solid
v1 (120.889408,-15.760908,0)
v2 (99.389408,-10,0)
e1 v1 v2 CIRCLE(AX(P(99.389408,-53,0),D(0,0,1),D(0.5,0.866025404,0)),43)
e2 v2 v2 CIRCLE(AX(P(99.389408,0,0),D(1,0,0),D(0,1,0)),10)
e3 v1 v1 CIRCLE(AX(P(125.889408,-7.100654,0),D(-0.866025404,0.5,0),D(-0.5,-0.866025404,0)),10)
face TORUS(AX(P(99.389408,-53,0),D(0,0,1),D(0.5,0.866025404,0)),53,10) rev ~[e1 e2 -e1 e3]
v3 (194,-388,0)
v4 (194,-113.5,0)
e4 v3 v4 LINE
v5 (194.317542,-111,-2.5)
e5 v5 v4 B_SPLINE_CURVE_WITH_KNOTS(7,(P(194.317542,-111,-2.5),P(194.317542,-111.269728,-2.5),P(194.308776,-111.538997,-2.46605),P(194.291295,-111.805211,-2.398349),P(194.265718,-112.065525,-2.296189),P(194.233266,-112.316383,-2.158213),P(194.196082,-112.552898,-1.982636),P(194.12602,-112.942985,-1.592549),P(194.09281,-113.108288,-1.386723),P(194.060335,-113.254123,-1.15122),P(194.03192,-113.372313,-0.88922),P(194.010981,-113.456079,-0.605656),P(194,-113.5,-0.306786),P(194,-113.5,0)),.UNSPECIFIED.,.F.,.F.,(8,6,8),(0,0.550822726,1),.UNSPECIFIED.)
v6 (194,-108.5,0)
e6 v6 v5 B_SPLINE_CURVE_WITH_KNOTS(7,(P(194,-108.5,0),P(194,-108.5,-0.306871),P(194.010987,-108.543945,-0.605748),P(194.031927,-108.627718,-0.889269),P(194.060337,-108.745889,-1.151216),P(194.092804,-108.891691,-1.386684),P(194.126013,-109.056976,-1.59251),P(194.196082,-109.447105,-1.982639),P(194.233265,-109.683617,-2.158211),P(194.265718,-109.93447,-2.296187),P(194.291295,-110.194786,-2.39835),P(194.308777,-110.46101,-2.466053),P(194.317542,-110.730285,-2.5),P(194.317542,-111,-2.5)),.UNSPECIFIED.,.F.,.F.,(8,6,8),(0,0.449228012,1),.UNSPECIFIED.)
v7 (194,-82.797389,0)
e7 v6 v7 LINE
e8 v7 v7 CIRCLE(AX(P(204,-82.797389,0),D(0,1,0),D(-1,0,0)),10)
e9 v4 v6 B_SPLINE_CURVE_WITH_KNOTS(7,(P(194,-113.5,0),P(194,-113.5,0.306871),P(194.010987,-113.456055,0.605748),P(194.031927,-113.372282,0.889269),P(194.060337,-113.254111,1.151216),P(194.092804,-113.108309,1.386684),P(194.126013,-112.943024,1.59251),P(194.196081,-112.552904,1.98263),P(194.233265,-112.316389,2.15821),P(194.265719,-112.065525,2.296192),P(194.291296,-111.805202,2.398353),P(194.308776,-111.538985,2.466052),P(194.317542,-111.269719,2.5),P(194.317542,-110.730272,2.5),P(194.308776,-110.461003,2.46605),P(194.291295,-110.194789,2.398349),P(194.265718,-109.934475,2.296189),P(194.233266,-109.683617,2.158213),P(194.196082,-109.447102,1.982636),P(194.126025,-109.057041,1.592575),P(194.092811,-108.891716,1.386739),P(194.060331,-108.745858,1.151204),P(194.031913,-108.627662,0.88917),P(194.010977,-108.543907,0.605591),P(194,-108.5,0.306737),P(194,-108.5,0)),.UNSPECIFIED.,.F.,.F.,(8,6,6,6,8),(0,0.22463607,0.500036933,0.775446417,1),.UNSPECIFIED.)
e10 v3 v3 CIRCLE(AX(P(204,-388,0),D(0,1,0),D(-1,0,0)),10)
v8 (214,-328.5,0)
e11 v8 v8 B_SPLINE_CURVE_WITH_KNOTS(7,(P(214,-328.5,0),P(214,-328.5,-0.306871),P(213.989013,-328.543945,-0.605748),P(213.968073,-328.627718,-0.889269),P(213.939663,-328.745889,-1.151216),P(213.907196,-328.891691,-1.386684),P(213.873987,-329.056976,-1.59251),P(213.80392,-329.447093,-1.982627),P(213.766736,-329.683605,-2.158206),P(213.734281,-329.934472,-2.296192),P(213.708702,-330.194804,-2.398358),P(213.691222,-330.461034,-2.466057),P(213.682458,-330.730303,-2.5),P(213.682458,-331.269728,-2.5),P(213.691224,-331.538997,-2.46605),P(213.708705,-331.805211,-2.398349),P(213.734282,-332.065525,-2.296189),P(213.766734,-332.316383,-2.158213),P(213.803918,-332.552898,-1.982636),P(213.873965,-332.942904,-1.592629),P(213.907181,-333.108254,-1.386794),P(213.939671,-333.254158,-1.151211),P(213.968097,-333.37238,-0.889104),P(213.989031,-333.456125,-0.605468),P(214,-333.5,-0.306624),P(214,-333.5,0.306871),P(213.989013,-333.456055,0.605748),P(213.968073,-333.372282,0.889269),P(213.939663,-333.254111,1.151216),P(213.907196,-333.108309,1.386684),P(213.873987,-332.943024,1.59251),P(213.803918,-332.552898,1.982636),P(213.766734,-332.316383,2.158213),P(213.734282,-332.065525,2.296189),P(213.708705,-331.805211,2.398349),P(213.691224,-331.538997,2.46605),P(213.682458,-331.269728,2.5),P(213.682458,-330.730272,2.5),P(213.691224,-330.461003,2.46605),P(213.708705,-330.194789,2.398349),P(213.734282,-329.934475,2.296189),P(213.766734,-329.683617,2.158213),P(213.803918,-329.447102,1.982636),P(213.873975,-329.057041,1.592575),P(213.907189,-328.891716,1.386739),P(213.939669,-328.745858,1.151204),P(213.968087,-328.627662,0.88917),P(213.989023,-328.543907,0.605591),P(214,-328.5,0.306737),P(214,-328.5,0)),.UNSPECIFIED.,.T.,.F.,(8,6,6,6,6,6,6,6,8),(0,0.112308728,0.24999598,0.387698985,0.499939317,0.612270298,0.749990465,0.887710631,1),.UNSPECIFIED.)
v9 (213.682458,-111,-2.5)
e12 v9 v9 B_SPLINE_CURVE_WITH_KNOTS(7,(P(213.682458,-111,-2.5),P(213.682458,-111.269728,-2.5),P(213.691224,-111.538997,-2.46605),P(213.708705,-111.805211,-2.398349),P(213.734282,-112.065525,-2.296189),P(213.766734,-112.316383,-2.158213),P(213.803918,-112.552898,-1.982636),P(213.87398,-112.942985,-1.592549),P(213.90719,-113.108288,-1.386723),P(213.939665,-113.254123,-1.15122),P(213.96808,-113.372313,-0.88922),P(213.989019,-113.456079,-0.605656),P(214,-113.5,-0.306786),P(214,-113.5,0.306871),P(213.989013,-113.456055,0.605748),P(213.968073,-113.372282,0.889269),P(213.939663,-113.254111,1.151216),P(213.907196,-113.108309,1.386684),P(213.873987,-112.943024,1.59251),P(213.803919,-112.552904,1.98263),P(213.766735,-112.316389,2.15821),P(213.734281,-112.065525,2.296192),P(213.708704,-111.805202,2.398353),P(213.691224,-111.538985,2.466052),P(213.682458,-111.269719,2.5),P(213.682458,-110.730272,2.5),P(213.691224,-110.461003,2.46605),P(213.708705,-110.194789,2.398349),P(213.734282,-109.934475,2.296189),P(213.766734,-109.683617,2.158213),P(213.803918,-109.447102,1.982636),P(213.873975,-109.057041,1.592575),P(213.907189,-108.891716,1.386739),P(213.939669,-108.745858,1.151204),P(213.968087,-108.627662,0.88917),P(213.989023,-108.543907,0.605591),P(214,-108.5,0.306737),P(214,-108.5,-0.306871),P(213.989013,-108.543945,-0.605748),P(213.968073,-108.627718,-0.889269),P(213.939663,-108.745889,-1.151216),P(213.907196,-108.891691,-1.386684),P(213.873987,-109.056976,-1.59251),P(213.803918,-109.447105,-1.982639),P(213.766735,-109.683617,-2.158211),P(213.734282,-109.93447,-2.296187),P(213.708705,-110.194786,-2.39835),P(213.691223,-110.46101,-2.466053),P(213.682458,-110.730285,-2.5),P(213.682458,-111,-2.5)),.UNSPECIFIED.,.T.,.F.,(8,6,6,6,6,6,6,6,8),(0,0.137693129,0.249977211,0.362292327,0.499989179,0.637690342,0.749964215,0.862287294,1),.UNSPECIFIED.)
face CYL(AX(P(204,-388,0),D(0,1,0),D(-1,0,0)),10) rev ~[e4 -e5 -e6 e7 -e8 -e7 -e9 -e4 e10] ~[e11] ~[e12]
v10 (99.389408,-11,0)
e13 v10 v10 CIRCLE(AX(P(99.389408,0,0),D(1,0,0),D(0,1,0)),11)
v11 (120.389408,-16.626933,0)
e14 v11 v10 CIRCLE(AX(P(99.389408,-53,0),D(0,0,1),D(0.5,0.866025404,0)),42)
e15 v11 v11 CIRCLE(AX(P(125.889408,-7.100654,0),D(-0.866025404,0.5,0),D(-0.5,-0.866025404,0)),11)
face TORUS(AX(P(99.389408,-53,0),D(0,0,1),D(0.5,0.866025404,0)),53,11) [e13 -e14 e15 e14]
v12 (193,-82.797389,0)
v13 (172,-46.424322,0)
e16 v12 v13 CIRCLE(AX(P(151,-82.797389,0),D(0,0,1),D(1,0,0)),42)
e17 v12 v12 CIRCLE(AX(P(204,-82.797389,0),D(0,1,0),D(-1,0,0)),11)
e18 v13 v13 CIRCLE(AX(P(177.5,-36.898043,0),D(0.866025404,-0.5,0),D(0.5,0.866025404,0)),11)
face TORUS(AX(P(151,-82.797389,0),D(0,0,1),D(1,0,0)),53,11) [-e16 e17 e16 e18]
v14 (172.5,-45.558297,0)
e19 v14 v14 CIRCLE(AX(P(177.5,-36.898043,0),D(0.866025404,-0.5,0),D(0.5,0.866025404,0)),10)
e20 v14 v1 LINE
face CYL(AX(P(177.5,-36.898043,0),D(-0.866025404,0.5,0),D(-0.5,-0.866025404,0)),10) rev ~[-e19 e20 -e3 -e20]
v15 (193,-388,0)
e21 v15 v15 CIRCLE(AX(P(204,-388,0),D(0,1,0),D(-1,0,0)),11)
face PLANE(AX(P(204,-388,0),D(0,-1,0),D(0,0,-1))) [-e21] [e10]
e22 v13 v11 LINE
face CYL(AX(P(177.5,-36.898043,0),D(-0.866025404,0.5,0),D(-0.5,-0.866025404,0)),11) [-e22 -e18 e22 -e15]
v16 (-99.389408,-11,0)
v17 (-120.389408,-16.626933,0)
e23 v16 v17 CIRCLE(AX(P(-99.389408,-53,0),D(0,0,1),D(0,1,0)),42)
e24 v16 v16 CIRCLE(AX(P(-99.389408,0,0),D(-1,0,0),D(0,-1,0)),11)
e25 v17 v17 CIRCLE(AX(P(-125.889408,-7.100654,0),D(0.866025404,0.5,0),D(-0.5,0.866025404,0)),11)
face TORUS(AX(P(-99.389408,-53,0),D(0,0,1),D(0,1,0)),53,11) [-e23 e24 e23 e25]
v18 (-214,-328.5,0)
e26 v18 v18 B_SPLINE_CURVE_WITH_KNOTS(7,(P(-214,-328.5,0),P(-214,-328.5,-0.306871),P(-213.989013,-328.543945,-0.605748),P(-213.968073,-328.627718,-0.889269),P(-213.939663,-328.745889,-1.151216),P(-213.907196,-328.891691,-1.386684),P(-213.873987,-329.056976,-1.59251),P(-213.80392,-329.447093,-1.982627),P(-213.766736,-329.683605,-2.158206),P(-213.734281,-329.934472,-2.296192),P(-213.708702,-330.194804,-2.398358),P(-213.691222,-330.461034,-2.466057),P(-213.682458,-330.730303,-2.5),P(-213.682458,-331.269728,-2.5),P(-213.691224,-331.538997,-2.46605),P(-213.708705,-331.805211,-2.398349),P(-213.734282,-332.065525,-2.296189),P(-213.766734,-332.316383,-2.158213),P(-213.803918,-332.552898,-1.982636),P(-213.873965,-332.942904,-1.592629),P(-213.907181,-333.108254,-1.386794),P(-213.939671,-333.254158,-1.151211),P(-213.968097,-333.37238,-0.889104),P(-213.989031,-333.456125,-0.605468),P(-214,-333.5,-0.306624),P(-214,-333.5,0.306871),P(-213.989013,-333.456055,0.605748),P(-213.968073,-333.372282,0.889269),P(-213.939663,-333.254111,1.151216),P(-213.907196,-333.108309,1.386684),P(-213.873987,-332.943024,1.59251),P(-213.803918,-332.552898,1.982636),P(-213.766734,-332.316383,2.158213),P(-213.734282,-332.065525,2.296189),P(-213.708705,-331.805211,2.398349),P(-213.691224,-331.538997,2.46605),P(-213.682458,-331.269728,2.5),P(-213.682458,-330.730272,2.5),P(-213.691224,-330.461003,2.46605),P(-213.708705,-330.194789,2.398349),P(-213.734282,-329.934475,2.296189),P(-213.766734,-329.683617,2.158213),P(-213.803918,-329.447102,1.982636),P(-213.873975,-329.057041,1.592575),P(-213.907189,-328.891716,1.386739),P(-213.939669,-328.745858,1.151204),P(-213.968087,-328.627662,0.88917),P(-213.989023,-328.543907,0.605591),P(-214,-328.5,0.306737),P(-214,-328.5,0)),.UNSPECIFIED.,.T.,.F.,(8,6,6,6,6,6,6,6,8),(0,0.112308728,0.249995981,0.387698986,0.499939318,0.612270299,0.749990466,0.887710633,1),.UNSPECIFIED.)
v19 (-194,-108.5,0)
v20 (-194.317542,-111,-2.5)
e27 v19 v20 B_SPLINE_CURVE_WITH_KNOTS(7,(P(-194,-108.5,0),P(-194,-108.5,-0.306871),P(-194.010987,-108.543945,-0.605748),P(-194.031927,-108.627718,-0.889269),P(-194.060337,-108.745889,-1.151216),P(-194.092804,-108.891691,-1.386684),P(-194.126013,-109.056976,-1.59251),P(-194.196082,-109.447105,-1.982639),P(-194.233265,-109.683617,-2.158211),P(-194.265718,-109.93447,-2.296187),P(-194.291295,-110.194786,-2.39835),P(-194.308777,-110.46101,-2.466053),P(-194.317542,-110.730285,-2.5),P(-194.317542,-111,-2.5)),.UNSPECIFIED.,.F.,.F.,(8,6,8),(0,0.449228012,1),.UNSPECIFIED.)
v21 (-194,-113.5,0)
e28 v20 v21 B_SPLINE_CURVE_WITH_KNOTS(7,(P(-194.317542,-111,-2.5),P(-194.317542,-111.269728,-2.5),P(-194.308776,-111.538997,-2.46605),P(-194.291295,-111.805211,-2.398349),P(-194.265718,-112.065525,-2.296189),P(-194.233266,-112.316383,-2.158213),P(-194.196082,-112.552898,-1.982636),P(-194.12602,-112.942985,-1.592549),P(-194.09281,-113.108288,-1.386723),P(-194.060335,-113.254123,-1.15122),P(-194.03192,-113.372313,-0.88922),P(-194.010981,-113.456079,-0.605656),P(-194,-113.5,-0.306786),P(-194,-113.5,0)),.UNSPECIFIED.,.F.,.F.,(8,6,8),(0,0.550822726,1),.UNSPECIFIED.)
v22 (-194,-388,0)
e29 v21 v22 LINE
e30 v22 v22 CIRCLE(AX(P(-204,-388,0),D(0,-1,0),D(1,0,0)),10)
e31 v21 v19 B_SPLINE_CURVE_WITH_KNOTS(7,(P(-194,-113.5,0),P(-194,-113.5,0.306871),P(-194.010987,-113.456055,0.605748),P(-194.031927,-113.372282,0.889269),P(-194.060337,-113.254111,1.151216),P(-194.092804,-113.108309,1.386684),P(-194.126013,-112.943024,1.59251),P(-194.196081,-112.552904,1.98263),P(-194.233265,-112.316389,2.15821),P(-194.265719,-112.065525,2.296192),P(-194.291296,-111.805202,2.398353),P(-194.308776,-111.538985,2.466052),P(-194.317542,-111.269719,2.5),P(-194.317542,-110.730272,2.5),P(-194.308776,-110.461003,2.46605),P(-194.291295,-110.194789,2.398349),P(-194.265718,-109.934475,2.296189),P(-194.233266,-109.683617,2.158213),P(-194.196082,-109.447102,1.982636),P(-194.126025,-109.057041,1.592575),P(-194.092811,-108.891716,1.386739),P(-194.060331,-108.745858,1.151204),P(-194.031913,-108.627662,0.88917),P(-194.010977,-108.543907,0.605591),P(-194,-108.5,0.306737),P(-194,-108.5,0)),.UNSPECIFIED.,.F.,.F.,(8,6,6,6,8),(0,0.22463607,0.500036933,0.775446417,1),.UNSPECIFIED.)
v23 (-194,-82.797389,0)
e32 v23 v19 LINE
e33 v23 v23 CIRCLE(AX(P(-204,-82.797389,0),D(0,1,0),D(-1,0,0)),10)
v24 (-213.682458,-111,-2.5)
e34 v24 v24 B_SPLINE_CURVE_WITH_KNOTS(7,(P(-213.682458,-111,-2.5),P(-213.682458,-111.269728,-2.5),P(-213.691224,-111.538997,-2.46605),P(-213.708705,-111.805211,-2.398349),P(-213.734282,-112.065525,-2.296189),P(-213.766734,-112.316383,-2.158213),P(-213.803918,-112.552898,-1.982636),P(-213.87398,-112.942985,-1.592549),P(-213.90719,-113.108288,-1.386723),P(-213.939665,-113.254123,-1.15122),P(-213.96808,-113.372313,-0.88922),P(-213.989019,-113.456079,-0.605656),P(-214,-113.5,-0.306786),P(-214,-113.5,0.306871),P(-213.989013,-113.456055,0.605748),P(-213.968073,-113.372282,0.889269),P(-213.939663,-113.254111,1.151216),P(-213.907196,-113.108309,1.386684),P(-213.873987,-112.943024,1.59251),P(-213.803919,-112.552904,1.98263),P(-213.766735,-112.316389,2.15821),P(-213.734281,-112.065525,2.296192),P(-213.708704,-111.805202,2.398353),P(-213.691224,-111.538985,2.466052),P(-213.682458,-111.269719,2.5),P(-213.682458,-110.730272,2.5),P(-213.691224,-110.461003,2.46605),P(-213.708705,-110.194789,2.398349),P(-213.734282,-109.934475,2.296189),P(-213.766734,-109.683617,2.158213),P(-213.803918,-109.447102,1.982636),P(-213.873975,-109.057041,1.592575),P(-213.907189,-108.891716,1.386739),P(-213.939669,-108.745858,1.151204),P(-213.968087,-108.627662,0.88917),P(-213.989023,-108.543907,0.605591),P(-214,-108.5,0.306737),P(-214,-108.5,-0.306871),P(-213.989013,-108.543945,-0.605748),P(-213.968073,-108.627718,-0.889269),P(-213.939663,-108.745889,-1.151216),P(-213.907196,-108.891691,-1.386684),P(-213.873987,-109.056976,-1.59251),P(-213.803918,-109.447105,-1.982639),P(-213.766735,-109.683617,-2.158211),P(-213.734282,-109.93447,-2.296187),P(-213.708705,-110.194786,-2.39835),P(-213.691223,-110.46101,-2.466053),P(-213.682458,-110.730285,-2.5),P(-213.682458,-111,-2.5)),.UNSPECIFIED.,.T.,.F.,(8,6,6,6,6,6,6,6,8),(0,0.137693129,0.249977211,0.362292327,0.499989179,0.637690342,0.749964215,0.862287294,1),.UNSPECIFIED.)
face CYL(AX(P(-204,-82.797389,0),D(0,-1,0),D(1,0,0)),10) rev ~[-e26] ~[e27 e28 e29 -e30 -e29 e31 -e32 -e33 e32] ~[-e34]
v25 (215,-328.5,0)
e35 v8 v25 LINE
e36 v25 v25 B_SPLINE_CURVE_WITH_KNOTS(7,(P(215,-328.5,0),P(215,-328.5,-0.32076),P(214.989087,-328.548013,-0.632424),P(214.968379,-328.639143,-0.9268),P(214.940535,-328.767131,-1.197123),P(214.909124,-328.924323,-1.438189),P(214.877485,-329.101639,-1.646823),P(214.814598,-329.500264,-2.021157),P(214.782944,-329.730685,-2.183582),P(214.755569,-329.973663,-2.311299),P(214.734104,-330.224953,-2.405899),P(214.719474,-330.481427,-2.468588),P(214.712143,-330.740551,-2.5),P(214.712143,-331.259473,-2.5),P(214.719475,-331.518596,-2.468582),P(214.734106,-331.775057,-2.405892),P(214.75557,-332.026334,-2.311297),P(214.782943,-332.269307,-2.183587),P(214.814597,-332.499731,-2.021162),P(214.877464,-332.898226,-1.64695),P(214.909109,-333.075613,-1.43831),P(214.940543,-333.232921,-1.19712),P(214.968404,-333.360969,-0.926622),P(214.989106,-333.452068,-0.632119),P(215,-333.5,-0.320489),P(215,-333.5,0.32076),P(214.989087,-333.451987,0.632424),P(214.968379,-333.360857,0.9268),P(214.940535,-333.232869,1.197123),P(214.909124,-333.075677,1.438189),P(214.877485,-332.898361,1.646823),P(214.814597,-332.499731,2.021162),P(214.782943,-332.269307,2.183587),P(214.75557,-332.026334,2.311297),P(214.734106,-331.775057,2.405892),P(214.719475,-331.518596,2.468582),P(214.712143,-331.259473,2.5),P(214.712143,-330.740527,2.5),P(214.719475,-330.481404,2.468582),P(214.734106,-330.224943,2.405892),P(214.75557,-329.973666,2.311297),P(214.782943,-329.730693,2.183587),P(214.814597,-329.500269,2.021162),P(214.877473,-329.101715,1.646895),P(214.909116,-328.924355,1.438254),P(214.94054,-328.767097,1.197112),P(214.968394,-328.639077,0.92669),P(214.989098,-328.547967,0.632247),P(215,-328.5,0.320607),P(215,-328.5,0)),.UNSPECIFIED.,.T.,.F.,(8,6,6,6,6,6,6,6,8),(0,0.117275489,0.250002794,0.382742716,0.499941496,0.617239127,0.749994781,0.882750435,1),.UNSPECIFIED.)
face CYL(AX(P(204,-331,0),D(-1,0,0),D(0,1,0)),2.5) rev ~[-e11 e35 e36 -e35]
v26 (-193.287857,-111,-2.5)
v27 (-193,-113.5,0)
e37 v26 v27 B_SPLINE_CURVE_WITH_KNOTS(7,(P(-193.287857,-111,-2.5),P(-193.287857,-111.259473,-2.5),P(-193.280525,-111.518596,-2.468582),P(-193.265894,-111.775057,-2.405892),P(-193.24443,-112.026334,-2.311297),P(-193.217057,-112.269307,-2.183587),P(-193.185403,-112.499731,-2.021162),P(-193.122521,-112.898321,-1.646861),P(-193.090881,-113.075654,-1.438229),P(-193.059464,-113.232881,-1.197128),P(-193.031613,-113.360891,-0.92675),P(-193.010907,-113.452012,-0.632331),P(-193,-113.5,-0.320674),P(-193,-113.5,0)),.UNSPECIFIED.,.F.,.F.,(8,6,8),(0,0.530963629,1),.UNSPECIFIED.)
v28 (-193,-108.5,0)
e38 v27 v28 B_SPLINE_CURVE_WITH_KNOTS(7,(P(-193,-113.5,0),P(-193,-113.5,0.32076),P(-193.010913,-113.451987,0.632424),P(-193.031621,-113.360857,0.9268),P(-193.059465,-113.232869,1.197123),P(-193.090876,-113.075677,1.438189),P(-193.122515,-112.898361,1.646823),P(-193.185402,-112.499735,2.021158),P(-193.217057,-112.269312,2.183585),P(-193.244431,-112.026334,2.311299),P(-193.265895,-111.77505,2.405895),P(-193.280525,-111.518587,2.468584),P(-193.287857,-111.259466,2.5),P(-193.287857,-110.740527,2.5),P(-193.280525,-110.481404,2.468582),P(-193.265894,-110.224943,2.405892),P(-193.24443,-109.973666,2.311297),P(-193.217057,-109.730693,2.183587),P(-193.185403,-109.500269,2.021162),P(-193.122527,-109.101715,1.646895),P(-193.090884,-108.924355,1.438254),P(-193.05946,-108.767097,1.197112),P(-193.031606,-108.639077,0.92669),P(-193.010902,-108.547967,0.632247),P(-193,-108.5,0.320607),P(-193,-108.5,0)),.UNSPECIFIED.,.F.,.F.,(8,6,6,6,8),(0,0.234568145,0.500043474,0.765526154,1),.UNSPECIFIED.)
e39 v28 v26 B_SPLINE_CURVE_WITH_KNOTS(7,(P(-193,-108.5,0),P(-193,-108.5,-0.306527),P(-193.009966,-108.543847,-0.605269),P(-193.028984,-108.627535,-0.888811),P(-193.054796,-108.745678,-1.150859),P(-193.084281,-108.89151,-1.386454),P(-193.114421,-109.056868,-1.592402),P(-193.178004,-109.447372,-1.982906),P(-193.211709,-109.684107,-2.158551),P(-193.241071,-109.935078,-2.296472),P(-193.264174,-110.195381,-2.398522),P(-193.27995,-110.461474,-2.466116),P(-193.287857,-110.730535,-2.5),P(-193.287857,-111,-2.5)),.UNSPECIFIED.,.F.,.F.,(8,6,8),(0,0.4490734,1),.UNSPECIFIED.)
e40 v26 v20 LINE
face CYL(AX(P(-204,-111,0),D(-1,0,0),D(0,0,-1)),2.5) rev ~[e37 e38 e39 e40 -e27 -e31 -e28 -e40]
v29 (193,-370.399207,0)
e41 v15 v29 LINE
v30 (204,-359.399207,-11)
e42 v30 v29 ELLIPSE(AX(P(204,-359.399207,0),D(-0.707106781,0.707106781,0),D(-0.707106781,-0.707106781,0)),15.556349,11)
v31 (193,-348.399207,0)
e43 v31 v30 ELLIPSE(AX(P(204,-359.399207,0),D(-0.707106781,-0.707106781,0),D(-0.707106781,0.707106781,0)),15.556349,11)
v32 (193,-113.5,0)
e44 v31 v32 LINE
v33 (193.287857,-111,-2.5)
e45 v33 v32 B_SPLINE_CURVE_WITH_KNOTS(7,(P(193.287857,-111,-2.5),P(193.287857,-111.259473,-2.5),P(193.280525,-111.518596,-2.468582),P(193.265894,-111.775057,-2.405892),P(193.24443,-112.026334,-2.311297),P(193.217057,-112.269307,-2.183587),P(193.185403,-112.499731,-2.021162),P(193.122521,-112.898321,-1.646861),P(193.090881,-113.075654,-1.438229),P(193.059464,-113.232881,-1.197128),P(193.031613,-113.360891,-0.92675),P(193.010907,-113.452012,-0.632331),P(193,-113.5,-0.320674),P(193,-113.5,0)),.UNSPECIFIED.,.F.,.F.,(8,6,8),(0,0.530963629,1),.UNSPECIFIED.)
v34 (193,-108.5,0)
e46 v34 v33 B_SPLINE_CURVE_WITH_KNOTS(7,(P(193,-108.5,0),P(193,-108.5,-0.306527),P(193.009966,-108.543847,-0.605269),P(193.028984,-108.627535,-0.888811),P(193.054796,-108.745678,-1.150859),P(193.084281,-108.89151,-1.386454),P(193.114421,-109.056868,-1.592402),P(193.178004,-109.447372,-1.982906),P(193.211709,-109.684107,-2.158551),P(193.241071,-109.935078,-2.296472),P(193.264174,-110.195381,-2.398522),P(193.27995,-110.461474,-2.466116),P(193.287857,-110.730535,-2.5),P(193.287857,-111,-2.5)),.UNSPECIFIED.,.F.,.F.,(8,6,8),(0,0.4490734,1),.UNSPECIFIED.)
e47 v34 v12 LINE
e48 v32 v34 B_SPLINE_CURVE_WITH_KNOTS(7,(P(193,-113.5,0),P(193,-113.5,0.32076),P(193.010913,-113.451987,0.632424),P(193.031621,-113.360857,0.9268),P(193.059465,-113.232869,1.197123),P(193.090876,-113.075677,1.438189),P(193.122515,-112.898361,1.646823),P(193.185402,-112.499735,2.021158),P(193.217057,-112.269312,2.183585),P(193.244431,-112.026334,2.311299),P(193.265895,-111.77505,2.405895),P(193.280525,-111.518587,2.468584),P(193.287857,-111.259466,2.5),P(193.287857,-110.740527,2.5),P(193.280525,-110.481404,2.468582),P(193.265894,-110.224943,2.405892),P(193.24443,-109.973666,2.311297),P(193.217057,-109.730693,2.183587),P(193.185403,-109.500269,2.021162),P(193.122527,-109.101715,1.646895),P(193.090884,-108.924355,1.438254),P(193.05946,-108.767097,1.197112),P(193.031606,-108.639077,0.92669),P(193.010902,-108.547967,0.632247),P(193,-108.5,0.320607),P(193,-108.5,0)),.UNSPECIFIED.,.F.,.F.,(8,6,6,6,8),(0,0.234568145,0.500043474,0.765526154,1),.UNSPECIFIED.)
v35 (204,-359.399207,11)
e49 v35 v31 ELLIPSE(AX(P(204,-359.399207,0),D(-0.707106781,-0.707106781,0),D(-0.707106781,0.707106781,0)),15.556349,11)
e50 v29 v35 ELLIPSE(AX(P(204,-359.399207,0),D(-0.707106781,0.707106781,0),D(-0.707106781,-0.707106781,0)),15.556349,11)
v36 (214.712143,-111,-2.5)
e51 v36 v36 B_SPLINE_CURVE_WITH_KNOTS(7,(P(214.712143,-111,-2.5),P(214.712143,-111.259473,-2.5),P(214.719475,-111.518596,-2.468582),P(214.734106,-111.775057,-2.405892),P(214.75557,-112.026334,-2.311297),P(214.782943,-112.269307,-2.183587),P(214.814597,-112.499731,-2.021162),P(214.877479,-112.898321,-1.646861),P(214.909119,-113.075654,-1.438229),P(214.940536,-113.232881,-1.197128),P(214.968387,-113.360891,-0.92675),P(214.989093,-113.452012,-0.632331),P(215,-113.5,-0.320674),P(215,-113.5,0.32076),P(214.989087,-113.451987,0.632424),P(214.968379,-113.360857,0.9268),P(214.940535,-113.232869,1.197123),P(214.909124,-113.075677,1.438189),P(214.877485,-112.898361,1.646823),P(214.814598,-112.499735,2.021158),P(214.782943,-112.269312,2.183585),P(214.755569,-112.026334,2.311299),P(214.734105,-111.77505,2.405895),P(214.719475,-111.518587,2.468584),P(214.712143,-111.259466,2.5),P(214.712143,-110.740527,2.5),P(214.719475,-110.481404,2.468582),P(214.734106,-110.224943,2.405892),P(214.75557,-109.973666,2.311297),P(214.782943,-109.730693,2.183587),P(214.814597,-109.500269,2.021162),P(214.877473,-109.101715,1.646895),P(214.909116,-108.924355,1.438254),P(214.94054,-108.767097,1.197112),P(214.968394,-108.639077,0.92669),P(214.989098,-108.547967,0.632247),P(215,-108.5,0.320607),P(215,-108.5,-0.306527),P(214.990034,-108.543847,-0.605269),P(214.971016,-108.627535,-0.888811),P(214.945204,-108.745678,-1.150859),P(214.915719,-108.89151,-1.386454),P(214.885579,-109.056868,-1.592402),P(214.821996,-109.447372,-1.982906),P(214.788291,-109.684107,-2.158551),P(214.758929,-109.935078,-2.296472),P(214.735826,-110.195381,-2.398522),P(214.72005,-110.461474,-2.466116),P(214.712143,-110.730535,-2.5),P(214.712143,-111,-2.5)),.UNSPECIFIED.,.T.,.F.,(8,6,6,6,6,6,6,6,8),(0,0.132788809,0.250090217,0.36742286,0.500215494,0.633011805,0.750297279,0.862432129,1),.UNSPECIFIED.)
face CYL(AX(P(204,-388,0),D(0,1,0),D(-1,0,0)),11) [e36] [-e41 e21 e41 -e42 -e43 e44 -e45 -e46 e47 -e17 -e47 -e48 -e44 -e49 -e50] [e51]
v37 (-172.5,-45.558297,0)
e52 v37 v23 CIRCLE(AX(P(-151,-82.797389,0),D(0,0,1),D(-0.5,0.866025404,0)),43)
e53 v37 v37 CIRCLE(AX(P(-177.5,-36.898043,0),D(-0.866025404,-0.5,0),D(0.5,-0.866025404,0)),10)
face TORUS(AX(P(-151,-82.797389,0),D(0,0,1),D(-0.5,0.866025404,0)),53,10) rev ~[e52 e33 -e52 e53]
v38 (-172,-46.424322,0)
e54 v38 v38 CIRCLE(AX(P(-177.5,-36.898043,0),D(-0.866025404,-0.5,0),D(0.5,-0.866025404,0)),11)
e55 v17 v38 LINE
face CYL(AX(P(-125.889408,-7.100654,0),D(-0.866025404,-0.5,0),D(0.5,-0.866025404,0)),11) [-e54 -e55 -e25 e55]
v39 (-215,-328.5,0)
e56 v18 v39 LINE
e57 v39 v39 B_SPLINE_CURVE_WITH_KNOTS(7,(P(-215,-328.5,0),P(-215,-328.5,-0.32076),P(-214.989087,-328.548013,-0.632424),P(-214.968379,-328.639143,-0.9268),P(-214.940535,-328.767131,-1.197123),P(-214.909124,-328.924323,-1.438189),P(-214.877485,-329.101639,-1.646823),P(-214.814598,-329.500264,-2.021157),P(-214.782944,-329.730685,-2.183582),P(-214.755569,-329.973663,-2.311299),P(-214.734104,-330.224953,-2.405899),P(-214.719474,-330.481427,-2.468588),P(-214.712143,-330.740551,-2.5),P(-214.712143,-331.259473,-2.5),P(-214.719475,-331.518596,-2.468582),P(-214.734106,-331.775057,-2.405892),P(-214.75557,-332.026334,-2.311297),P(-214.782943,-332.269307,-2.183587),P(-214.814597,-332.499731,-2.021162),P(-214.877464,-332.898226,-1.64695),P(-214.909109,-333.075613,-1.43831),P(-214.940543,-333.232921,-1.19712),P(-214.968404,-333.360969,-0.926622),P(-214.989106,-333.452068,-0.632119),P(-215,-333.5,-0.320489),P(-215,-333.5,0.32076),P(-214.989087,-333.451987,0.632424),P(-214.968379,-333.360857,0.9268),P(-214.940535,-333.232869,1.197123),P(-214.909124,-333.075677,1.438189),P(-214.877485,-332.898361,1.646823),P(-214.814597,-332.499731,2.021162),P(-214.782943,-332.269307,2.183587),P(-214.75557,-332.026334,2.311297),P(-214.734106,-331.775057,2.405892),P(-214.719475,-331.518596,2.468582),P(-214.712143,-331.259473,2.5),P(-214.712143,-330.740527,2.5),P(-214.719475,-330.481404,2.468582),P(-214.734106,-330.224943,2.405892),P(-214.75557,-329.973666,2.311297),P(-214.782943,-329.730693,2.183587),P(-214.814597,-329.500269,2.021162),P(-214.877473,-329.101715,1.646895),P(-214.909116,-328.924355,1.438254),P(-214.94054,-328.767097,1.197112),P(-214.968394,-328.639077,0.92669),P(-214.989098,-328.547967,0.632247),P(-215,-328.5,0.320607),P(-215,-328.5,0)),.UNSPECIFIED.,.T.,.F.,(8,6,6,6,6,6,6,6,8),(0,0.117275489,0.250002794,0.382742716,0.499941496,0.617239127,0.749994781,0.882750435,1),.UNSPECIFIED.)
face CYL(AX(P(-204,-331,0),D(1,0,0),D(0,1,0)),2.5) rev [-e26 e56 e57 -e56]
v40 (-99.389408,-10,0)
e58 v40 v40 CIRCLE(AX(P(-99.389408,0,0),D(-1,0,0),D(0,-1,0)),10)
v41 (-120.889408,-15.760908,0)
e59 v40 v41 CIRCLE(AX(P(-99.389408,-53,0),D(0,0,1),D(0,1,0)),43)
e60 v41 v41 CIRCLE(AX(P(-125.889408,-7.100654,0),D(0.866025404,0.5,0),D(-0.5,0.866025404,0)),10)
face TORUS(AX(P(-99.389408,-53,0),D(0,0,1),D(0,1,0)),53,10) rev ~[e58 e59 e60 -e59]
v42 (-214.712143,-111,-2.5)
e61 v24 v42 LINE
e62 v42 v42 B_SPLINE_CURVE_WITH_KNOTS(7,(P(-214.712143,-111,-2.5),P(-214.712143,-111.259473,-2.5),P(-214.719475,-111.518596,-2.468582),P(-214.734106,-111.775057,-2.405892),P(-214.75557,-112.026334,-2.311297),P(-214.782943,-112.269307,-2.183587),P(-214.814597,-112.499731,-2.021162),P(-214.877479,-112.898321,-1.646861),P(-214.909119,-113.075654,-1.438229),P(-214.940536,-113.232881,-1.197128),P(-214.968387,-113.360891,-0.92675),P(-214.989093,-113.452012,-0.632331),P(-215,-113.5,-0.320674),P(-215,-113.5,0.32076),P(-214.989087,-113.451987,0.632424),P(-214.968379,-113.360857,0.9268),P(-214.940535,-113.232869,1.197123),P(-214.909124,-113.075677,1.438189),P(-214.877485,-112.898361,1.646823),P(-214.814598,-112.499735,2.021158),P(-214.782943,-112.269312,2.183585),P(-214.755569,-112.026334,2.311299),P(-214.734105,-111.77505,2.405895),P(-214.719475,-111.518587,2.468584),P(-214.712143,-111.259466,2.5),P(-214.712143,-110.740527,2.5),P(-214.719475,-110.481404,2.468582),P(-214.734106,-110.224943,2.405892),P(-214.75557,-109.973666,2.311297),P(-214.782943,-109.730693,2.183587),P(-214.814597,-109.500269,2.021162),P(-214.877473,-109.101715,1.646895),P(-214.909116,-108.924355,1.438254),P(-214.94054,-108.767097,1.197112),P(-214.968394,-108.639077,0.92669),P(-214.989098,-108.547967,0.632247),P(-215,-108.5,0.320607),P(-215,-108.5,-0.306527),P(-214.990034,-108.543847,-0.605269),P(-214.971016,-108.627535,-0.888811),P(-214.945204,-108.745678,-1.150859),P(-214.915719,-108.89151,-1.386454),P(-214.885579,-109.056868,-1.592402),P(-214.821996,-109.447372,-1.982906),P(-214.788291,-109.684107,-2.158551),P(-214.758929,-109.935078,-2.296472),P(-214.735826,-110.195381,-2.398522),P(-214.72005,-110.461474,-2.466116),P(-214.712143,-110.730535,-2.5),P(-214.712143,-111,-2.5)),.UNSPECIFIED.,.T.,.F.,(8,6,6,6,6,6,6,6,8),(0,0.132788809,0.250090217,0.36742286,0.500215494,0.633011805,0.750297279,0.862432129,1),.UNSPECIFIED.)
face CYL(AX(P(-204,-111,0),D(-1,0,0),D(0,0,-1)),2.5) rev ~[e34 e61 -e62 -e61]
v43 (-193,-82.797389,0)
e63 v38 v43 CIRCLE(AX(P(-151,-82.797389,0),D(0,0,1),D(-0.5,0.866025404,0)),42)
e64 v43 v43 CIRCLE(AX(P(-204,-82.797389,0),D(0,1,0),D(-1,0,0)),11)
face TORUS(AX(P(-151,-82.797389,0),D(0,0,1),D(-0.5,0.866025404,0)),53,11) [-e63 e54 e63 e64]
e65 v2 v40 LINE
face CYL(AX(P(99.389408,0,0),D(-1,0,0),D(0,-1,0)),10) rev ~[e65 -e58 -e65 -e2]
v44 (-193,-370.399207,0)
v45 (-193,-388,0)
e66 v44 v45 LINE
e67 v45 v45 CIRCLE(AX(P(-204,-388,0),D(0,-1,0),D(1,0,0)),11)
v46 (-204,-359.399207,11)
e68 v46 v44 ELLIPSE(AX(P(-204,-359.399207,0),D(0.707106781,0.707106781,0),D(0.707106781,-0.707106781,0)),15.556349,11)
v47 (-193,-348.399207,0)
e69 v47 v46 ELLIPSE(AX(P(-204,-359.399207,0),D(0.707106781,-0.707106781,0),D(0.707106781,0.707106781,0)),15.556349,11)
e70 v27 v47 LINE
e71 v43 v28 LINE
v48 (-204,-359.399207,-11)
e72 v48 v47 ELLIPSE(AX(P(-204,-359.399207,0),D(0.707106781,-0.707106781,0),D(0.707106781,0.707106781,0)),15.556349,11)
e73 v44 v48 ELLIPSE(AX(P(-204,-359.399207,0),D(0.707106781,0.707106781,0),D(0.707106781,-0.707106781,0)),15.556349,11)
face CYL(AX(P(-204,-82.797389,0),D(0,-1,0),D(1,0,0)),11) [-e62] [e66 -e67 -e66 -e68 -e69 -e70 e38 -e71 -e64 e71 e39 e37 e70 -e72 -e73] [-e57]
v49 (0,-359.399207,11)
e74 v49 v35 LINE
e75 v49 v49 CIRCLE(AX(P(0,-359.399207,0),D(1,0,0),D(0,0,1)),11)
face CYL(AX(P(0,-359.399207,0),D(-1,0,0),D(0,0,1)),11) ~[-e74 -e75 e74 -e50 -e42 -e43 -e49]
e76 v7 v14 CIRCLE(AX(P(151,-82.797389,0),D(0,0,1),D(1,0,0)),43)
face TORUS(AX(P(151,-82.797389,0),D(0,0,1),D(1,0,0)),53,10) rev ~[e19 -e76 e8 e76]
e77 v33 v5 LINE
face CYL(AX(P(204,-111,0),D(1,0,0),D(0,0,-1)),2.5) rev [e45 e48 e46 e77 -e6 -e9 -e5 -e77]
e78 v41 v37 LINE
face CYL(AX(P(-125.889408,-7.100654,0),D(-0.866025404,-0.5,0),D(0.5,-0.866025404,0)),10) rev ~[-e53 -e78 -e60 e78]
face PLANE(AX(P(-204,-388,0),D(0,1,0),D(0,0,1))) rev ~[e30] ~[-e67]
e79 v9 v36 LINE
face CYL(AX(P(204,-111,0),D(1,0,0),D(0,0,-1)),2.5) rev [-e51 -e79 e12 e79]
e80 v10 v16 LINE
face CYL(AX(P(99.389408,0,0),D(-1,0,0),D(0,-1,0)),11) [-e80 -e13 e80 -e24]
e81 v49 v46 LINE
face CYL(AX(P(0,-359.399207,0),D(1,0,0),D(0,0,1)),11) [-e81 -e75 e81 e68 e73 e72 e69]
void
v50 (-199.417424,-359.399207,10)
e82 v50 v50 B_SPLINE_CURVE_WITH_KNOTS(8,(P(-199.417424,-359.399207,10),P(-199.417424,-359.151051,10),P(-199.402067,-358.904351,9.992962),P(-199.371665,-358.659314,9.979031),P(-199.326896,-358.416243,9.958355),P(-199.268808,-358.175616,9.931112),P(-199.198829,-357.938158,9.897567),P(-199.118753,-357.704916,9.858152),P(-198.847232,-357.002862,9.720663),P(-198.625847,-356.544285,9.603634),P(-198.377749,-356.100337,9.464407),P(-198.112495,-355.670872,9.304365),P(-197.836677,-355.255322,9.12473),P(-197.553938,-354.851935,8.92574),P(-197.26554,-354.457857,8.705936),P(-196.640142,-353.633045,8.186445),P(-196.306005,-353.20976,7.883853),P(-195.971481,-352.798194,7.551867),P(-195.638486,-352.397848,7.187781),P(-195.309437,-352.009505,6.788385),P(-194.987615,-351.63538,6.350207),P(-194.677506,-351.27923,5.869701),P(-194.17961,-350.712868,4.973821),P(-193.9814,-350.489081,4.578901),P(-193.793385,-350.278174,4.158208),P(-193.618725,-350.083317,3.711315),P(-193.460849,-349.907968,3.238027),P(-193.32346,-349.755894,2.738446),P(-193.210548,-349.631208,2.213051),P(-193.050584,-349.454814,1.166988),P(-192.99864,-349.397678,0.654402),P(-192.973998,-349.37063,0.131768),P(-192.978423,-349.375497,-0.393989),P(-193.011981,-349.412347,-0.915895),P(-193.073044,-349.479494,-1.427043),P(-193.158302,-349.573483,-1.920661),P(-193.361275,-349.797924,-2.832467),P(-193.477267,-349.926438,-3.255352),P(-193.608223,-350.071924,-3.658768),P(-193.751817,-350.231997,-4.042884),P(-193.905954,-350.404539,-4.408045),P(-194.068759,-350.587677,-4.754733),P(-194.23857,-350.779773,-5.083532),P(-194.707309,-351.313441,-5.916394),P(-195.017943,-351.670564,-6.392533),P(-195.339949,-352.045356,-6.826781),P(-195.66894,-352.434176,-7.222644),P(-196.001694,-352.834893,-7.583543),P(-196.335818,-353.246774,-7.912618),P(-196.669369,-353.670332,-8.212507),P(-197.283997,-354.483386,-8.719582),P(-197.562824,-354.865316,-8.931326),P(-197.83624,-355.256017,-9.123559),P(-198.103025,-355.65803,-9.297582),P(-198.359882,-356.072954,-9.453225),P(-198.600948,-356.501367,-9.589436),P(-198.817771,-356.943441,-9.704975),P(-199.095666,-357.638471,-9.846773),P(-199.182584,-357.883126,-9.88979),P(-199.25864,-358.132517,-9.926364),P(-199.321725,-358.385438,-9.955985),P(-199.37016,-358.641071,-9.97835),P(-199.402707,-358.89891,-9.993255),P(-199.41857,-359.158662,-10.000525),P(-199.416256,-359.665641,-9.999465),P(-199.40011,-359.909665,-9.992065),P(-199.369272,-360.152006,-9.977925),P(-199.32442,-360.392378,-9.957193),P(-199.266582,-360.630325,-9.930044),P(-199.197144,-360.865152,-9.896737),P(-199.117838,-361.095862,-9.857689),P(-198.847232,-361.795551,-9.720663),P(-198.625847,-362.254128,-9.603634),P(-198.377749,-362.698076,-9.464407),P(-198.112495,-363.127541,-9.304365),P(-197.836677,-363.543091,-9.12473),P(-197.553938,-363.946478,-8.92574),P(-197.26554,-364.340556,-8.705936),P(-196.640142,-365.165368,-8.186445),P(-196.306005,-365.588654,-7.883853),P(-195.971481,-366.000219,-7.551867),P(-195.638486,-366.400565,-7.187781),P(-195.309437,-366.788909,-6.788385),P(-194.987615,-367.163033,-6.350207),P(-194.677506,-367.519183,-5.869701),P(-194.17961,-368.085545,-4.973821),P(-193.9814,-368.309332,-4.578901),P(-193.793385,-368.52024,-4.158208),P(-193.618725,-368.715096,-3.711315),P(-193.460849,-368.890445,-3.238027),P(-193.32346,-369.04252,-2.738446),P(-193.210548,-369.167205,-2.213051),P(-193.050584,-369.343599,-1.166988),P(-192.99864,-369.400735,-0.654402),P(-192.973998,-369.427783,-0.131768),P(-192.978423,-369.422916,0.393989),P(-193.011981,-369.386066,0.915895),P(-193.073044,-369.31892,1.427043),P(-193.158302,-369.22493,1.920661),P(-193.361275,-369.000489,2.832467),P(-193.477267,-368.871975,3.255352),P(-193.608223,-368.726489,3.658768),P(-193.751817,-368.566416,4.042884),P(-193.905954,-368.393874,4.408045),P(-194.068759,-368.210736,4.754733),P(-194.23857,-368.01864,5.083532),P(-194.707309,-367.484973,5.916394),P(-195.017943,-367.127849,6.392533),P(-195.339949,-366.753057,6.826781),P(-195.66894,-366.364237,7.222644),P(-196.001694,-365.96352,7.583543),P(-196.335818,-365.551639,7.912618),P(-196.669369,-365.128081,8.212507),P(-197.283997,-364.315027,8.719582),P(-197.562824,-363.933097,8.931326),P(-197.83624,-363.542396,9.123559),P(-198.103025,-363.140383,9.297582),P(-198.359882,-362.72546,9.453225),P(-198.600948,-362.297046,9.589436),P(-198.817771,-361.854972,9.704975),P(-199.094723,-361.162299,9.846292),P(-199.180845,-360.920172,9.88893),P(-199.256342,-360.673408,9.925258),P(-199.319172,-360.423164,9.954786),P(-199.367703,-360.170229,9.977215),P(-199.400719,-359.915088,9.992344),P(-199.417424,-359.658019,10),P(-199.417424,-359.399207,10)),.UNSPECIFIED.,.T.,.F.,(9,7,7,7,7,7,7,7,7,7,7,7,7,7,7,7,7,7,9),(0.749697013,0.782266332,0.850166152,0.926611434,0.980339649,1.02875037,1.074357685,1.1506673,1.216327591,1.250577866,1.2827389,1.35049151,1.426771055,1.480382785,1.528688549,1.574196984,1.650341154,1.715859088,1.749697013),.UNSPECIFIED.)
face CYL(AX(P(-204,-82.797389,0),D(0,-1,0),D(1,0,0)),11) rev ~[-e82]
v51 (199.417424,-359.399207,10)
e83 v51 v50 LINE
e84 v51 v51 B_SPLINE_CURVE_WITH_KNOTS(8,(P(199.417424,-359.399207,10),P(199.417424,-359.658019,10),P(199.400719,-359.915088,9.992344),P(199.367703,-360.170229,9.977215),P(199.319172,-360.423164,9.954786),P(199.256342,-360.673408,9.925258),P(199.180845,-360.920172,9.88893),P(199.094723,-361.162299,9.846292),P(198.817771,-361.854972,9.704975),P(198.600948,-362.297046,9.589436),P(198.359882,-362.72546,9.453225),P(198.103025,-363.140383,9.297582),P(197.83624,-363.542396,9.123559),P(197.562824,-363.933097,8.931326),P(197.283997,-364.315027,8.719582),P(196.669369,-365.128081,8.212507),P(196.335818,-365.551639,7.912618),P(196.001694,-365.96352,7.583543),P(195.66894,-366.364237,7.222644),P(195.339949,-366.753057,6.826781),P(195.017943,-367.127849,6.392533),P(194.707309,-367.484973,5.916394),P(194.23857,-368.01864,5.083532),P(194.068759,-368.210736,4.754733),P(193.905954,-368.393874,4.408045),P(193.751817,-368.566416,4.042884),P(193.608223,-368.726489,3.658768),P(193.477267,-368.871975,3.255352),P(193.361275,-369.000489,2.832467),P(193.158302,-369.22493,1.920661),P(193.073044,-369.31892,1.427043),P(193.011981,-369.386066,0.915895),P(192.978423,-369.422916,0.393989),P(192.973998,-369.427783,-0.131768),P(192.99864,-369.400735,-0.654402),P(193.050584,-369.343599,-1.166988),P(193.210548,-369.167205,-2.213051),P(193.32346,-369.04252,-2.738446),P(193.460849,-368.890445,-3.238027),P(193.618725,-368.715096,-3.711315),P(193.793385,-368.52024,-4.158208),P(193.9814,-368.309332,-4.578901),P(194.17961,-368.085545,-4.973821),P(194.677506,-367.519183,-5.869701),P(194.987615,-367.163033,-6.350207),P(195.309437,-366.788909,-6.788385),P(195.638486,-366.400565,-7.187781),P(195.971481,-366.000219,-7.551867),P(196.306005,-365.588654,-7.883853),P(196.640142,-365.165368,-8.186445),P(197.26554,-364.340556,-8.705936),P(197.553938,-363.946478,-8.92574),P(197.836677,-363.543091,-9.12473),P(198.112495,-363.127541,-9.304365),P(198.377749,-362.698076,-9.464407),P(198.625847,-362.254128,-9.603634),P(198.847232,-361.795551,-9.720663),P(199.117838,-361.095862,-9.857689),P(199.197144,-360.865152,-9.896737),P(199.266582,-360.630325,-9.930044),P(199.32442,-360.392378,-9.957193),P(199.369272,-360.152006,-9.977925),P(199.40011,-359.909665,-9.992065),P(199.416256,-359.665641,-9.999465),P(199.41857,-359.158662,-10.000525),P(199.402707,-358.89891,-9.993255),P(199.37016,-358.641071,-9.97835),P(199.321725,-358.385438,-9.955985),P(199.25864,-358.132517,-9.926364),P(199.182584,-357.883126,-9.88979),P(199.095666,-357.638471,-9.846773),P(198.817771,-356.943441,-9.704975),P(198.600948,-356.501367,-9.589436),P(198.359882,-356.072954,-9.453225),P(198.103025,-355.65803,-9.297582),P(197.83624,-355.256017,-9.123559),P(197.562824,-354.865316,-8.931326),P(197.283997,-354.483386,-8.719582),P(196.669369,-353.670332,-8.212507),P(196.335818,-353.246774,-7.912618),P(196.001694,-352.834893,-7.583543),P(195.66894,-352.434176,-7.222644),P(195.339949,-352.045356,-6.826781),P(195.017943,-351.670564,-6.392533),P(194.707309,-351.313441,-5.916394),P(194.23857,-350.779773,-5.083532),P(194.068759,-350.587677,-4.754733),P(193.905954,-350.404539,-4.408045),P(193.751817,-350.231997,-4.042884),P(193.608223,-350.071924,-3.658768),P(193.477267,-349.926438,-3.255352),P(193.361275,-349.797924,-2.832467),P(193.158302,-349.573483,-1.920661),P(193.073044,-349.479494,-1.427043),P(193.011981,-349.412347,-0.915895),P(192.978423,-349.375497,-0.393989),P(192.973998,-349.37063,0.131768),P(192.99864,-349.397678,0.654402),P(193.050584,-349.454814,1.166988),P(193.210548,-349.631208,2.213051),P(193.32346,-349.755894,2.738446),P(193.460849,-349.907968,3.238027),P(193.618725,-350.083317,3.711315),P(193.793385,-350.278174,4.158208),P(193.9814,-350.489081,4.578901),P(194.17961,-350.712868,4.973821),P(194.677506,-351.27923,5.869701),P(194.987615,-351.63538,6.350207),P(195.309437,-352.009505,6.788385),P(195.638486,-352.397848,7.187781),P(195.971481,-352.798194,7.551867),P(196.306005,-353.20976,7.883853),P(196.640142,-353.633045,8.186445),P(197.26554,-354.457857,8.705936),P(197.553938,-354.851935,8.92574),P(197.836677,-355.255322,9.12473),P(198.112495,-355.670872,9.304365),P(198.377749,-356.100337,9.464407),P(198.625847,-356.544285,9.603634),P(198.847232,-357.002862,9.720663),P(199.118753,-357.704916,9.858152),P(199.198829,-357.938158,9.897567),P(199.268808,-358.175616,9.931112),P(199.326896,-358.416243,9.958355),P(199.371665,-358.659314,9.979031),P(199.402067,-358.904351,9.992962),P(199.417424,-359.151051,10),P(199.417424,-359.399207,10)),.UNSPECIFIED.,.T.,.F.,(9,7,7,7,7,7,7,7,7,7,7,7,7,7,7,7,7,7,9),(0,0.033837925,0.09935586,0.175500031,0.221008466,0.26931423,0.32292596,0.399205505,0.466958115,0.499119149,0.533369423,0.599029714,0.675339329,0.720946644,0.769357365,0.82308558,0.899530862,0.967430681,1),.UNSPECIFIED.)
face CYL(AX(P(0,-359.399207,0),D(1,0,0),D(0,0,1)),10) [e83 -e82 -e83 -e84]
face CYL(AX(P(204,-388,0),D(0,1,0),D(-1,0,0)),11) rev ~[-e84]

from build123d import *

# Parameters (mm, degrees)
SKETCH2_R                            = 11
SKETCH2_R_2                          = 10
BOSS_EXTRUDE1_REACH                  = 445.723
BOSS_EXTRUDE1_END_RADIUS             = 11
SKETCH3_R                            = 11
SKETCH3_R_2                          = 10
BOSS_EXTRUDE1_DIRECTION_2_REACH      = 445.723
BOSS_EXTRUDE1_DIRECTION_2_END_RADIUS = 11
SKETCH5_R                            = 2.5
CUT_EXTRUDE1_DEPTH                   = 200
SKETCH6_R                            = 2.5
CUT_EXTRUDE2_DEPTH                   = 200


with BuildPart() as part:
    # Sweep1: sweep along a path in Sketch1
    with BuildLine(Plane.XY) as sweep1_path:
        Line((204, -388), (204, -82.797389364))
        ThreePointArc((204, -82.797389364), (196.899346401, -56.297389364), (177.5, -36.898042963))
        Line((177.5, -36.898042963), (125.889407689, -7.100653599))
        ThreePointArc((125.889407689, -7.100653599), (113.10681708, -1.805931207), (99.389407689, 0))
        Line((99.389407689, 0), (-99.389407689, 0))
        ThreePointArc((-99.389407689, 0), (-113.10681708, -1.805931207), (-125.889407689, -7.100653599))
        Line((-125.889407689, -7.100653599), (-177.5, -36.898042963))
        ThreePointArc((-177.5, -36.898042963), (-196.899346401, -56.297389364), (-204, -82.797389364))
        Line((-204, -82.797389364), (-204, -388))
    # Sketch2 → Sweep1 (sweep)
    with BuildSketch(Plane(origin=(204, -388, 0), x_dir=(-1, 0, 0), z_dir=(0, -1, 0))):
        Circle(SKETCH2_R)
        Circle(SKETCH2_R_2, mode=Mode.SUBTRACT)
    sweep(path=sweep1_path.line)

    # Boss-Extrude1: up to this cylinder (the profile starts outside it)
    boss_extrude1_end = Plane(origin=(204, -359.399207, 0), z_dir=(0, -1, 0)) * Cylinder(BOSS_EXTRUDE1_END_RADIUS, 914.446, mode=Mode.PRIVATE)
    # Sketch3 → Boss-Extrude1 (add, up to the surface)
    with BuildSketch(Plane(origin=(0, 0, 0), x_dir=(0, 0, -1), z_dir=(1, 0, 0)), mode=Mode.PRIVATE) as boss_extrude1_sk1:
        with Locations((0, -359.399206555)):
            Circle(SKETCH3_R)
        with Locations((0, -359.399206555)):
            Circle(SKETCH3_R_2, mode=Mode.SUBTRACT)
    boss_extrude1_tool1 = extrude(boss_extrude1_sk1.sketch, amount=BOSS_EXTRUDE1_REACH, mode=Mode.PRIVATE) - boss_extrude1_end
    add(boss_extrude1_tool1.solids().sort_by_distance((0, -359.399207, 10.688873))[0])

    # Boss-Extrude1 direction 2: up to this cylinder (the profile starts outside it)
    boss_extrude1_direction_2_end = Plane(origin=(-204, -359.399207, 0), z_dir=(0, 1, 0)) * Cylinder(BOSS_EXTRUDE1_DIRECTION_2_END_RADIUS, 914.446, mode=Mode.PRIVATE)
    # Sketch3 → Boss-Extrude1 direction 2 (add, up to the surface)
    with BuildSketch(Plane(origin=(0, 0, 0), x_dir=(0, 0, -1), z_dir=(1, 0, 0)), mode=Mode.PRIVATE) as boss_extrude1_direction_2_sk1:
        with Locations((0, -359.399206555)):
            Circle(SKETCH3_R)
        with Locations((0, -359.399206555)):
            Circle(SKETCH3_R_2, mode=Mode.SUBTRACT)
    boss_extrude1_direction_2_tool1 = extrude(boss_extrude1_direction_2_sk1.sketch, amount=-BOSS_EXTRUDE1_DIRECTION_2_REACH, mode=Mode.PRIVATE) - boss_extrude1_direction_2_end
    add(boss_extrude1_direction_2_tool1.solids().sort_by_distance((0, -359.399207, 10.688873))[0])

    # Sketch5 → Cut-Extrude1 (cut)
    with BuildSketch(Plane(origin=(-204, -388, 0), x_dir=(0, 0, 1), z_dir=(-1, 0, 0))):
        with Locations((0, 57)):
            Circle(SKETCH5_R)
    cut_extrude1 = extrude(amount=CUT_EXTRUDE1_DEPTH, mode=Mode.SUBTRACT)

    # Sketch6 → Cut-Extrude2 (cut, symmetric)
    with BuildSketch(Plane(origin=(-204, -388, 0), x_dir=(0, 0, 1), z_dir=(-1, 0, 0))):
        with Locations((0, 277)):
            Circle(SKETCH6_R)
    cut_extrude2 = extrude(amount=CUT_EXTRUDE2_DEPTH, both=True, mode=Mode.SUBTRACT)

    # Mirror1: Cut-Extrude1, Cut-Extrude2 across plane
    add(cut_extrude1.mirror(Plane(origin=(0, 0, 0), x_dir=(0, 0, 1), z_dir=(1, 0, 0))), mode=Mode.SUBTRACT)
    add(cut_extrude2.mirror(Plane(origin=(0, 0, 0), x_dir=(0, 0, 1), z_dir=(1, 0, 0))), mode=Mode.SUBTRACT)


solid = part.part
